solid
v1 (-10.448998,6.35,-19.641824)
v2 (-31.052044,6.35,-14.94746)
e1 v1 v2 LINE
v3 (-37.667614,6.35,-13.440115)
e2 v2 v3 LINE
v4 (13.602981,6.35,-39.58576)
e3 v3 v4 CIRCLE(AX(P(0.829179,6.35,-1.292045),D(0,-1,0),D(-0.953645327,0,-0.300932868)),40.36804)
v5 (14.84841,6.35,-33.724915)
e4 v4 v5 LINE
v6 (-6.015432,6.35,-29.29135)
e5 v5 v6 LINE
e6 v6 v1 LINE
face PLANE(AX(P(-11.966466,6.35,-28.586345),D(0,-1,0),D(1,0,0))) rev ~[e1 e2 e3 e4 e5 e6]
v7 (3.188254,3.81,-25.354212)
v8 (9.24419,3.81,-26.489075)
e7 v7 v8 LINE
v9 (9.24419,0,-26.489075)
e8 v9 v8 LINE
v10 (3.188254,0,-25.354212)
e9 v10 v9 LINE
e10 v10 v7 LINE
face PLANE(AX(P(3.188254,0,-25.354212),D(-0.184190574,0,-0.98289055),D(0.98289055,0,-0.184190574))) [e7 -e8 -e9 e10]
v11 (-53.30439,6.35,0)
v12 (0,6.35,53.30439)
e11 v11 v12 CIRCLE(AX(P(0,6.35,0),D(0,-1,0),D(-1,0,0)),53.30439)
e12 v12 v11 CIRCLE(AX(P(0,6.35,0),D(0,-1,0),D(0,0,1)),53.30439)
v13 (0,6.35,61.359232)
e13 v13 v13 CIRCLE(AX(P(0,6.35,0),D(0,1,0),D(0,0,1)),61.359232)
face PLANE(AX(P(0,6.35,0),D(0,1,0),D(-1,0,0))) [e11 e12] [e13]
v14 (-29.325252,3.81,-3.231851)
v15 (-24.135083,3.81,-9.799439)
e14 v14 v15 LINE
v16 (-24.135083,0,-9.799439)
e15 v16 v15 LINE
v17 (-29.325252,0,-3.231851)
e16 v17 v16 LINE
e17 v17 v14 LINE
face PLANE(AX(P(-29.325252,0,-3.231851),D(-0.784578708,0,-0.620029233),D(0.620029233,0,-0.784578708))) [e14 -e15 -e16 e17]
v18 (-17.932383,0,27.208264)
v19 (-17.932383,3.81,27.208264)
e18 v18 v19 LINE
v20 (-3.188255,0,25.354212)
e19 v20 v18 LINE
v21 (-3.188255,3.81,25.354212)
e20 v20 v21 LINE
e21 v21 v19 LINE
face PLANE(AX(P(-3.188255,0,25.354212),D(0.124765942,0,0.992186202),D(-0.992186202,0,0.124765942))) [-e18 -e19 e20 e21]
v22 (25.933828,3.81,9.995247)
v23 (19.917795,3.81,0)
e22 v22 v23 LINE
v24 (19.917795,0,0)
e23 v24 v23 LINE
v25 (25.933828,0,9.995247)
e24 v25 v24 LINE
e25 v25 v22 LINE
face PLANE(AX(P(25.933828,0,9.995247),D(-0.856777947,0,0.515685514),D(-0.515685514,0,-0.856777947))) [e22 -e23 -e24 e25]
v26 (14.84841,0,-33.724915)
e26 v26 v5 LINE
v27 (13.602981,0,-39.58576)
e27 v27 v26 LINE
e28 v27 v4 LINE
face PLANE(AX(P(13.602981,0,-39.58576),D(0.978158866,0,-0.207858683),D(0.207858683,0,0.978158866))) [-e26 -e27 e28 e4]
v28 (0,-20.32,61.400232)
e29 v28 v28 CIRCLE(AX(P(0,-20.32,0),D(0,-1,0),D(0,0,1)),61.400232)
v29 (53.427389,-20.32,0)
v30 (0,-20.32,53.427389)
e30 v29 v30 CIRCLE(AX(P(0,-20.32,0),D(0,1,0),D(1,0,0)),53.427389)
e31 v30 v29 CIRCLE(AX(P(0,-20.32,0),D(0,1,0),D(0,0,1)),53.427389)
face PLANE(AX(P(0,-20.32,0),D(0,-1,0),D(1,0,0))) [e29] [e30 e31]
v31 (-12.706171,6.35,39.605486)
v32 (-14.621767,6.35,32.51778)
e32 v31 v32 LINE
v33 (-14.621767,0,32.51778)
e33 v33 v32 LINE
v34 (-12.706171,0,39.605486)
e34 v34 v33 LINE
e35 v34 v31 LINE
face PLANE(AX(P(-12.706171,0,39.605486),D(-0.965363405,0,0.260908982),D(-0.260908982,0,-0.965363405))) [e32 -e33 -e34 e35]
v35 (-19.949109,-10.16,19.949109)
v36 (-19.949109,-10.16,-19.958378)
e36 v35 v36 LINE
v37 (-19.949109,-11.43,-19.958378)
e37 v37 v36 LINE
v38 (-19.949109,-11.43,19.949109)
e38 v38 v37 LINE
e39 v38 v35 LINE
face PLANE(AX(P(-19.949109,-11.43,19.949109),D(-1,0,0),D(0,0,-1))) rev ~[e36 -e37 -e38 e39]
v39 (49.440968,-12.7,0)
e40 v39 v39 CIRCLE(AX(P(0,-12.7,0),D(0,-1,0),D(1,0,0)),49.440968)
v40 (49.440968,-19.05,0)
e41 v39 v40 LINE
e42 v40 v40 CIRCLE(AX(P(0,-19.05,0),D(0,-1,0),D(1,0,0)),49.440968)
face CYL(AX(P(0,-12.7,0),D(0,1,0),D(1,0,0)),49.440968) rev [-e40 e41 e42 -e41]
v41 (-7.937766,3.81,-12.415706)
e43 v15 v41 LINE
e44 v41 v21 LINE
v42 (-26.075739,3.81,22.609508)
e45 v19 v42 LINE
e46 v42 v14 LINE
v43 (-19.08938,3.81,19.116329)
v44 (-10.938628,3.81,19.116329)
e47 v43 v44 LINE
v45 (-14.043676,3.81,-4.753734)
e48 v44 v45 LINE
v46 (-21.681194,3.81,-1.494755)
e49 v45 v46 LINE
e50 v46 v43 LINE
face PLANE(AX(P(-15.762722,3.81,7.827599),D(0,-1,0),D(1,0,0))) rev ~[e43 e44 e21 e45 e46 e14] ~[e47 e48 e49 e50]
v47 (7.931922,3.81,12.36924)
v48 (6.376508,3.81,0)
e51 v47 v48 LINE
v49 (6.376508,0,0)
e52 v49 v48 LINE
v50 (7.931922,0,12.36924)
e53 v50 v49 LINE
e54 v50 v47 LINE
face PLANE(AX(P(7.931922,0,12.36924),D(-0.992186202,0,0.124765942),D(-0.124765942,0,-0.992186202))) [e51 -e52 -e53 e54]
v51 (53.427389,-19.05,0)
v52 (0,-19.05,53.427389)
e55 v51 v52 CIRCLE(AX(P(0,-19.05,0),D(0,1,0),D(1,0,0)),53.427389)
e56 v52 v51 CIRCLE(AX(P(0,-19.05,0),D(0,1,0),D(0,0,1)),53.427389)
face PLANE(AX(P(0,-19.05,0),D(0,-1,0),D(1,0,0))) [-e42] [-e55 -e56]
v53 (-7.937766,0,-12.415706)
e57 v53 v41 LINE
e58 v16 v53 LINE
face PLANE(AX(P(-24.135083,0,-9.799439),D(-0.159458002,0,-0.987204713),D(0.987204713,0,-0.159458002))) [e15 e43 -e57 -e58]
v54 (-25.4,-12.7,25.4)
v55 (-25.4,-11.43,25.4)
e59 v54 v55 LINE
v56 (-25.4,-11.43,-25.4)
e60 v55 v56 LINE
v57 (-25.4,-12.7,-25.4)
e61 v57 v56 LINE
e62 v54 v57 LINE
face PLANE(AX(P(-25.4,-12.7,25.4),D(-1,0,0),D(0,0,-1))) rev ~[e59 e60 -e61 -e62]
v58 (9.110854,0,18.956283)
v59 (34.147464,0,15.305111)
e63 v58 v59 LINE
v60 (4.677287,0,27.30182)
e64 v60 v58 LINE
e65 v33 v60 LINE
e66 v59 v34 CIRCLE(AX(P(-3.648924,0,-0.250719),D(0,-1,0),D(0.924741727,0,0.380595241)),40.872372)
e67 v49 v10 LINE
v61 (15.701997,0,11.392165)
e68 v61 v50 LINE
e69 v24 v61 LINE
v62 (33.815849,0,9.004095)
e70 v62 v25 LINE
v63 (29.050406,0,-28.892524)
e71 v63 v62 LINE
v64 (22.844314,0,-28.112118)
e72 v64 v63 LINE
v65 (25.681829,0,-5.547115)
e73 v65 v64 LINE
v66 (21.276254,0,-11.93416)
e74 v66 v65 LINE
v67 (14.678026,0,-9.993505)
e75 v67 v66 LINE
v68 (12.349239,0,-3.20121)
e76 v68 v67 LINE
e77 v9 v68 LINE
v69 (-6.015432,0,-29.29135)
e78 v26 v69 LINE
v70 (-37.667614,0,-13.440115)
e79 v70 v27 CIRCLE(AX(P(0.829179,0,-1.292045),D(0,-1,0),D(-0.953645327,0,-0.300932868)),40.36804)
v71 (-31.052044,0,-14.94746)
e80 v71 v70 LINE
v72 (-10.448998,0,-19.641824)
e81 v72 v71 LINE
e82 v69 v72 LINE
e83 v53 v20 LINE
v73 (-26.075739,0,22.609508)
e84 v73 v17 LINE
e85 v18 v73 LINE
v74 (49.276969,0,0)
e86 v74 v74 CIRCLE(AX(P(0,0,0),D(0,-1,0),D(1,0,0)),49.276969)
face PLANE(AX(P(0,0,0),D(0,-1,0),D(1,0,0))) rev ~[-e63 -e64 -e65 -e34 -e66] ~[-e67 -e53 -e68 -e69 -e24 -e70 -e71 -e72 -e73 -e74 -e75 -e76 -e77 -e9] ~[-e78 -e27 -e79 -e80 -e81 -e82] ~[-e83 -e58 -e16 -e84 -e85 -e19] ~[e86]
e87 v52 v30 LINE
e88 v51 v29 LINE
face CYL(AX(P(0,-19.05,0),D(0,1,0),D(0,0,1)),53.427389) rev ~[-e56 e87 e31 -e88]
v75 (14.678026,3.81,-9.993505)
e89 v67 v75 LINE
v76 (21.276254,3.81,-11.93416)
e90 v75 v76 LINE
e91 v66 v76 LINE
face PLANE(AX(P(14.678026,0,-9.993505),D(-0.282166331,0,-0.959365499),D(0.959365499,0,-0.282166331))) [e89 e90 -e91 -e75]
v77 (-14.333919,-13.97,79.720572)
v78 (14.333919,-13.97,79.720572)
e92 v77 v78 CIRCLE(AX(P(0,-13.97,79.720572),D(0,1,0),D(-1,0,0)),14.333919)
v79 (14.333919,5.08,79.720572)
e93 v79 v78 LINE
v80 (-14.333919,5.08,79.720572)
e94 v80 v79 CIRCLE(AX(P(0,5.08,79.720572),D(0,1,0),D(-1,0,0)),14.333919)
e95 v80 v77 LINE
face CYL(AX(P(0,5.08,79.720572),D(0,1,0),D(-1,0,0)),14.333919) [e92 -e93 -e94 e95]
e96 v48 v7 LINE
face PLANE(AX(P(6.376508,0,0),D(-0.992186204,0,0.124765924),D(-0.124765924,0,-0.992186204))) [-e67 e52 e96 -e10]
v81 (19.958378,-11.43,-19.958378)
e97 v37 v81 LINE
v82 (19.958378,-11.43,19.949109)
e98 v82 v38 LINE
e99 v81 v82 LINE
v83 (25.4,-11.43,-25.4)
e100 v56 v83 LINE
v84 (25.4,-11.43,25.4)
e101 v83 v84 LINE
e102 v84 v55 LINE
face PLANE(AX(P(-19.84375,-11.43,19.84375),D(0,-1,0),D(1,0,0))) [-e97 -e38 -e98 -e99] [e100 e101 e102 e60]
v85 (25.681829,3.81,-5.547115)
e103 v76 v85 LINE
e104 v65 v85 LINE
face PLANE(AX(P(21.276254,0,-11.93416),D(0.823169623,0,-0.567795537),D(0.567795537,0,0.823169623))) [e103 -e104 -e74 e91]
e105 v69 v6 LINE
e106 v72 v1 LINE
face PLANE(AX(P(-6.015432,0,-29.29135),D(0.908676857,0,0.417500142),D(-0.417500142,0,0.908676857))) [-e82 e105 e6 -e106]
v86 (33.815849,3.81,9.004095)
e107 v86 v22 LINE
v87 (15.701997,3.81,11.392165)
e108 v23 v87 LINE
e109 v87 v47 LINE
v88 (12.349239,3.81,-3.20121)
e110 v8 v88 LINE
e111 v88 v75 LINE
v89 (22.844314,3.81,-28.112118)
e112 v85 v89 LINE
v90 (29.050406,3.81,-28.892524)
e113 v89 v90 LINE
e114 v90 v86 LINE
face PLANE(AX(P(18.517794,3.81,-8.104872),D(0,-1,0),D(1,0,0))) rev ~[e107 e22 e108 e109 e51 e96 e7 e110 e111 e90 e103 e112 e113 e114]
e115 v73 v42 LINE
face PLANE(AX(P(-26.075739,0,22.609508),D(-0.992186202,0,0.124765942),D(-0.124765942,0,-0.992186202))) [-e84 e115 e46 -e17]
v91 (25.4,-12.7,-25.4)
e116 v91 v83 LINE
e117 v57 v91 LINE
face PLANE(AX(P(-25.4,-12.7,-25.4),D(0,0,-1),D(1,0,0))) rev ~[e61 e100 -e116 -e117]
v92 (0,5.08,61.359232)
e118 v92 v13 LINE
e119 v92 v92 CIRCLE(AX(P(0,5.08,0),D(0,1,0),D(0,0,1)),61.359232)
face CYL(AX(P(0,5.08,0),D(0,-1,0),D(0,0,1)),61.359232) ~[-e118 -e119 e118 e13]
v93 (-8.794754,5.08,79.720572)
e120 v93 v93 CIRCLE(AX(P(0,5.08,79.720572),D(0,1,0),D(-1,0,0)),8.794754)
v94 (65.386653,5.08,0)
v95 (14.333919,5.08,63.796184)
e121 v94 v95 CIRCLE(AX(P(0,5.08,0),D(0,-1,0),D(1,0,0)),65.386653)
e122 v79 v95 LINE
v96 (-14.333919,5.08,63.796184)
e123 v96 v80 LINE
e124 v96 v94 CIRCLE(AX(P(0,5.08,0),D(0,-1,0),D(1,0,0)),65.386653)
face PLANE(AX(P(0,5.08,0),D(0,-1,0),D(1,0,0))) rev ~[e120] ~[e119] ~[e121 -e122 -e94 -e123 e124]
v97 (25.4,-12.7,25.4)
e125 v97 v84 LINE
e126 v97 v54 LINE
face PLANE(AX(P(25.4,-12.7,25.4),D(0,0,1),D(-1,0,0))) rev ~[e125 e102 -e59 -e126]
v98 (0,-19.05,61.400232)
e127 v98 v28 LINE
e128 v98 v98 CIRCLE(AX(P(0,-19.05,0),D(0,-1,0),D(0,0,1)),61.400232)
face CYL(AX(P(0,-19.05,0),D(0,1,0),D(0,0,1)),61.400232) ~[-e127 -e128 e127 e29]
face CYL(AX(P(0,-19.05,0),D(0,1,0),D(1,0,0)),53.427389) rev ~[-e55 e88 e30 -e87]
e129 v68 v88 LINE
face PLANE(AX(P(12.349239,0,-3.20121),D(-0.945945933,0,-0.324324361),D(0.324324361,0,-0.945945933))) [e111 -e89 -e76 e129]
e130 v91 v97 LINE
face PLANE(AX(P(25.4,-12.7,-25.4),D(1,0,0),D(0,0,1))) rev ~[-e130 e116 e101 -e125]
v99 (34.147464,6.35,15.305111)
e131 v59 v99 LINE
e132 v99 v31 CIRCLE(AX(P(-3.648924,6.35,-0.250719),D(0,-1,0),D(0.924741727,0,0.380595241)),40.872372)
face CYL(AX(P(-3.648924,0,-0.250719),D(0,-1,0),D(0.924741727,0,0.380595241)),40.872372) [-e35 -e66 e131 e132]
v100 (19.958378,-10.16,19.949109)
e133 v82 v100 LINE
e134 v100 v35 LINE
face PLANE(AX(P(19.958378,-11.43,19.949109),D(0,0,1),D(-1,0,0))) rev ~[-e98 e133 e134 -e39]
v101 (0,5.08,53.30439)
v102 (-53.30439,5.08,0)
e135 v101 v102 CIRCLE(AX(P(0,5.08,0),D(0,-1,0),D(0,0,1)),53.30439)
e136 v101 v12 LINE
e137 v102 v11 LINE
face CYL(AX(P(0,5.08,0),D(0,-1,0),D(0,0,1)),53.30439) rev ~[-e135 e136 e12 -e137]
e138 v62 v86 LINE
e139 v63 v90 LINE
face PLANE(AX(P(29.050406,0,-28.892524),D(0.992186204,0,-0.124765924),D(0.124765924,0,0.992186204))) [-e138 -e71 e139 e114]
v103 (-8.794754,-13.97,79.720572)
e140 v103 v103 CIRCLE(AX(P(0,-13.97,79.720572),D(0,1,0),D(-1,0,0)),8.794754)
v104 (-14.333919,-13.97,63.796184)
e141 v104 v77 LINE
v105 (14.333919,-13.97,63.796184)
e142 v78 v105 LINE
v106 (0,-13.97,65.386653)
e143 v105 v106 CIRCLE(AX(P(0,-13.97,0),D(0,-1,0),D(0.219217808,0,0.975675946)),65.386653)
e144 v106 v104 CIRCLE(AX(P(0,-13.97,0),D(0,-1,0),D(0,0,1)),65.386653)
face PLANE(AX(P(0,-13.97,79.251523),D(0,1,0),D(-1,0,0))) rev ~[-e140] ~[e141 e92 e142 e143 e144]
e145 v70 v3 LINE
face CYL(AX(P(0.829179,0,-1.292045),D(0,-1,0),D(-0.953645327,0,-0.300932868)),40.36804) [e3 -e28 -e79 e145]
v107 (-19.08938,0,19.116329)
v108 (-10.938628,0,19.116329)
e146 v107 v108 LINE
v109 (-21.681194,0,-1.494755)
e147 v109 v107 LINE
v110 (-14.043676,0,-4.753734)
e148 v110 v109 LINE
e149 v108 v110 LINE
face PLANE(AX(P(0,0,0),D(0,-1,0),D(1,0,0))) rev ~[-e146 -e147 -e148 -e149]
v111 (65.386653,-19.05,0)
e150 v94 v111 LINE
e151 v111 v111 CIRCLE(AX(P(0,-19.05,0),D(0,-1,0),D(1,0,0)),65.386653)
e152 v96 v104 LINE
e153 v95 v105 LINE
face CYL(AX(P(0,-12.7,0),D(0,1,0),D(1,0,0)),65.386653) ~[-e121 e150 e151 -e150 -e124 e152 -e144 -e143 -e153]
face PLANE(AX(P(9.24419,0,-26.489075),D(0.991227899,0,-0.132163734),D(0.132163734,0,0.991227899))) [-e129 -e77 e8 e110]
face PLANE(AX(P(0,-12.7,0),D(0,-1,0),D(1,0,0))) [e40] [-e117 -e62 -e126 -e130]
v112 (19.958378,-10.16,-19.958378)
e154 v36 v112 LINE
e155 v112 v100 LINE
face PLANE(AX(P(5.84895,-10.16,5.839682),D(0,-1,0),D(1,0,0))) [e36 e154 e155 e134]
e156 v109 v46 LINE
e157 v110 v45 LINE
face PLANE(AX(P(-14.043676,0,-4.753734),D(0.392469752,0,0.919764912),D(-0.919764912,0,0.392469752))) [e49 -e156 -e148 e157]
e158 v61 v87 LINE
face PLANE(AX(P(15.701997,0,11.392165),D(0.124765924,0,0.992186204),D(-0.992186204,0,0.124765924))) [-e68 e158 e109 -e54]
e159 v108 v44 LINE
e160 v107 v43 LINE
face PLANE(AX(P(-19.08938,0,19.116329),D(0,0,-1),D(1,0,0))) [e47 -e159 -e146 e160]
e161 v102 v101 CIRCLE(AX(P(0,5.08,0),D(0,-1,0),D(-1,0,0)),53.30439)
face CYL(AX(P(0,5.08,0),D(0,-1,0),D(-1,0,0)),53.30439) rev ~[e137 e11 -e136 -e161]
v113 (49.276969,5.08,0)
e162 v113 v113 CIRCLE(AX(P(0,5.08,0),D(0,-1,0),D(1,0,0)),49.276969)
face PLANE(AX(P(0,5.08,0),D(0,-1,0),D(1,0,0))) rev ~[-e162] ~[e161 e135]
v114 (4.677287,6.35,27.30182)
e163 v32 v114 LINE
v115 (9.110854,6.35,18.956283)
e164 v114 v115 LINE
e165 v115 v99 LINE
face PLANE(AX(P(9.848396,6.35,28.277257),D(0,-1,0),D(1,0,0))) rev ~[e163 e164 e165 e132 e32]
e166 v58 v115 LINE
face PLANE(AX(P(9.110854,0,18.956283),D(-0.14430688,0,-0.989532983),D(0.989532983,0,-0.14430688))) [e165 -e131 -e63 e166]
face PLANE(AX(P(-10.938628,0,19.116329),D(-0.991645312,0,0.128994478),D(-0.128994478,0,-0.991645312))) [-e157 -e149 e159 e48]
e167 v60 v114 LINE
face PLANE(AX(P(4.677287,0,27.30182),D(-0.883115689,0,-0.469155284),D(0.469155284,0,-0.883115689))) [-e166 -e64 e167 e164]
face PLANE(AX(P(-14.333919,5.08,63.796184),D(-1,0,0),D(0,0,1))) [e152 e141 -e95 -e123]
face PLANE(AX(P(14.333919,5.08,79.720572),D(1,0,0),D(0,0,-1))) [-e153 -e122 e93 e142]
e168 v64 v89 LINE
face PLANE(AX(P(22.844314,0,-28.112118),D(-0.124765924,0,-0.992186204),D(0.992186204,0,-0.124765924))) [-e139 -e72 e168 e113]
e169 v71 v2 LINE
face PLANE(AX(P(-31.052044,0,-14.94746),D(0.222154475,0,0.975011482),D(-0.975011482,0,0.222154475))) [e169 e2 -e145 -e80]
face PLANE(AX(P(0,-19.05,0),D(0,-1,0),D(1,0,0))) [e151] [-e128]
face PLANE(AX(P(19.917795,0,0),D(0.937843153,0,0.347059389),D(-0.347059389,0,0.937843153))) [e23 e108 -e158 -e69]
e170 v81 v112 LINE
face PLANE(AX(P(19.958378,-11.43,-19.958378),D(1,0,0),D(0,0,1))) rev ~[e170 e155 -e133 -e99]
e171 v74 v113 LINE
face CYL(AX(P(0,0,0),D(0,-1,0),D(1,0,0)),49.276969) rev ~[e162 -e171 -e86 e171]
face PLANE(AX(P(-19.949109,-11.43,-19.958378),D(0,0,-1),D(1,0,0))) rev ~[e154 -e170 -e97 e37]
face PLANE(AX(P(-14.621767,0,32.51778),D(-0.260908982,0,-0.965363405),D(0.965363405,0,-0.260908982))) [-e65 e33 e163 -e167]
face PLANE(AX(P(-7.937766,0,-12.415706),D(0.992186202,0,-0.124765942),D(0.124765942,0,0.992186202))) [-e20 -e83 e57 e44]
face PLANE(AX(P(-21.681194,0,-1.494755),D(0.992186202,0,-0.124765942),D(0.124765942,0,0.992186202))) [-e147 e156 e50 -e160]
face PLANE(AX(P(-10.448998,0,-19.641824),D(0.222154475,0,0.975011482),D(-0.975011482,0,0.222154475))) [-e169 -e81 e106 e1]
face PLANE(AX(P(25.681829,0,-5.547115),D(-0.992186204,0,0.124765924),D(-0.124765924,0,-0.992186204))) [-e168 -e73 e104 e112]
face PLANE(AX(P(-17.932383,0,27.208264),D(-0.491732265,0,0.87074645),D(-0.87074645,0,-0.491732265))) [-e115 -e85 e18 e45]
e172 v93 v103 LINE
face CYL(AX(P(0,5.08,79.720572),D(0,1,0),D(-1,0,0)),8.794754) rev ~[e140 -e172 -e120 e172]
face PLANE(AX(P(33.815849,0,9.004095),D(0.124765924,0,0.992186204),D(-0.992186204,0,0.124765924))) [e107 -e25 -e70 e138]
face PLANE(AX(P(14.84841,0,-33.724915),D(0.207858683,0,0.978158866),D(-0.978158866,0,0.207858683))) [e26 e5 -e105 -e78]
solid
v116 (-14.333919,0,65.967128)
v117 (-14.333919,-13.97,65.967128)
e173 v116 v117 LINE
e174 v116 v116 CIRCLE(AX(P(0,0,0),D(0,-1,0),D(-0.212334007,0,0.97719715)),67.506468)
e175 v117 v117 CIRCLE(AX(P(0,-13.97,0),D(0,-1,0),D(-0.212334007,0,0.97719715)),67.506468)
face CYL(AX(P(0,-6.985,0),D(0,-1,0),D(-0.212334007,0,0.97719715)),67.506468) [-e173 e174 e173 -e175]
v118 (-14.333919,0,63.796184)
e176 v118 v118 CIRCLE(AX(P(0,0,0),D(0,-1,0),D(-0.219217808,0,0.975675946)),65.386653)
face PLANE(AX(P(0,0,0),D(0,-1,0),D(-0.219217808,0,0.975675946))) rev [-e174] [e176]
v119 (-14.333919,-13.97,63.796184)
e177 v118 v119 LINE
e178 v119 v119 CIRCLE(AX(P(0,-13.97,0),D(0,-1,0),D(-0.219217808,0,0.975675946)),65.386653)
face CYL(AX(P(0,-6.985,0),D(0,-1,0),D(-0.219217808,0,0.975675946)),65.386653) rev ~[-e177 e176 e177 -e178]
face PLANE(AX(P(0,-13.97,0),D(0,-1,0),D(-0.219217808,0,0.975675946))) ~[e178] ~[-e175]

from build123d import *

# Parameters (mm, degrees)
F0_R      = 65.3866528966
F0_R_2    = 49.276969373
F1_DEPTH  = 12.7
F2_DEPTH  = 5.08
F3_R      = 65.3866528966
F3_R_2    = 49.4409677946
F4_DEPTH  = 6.35
F6_DEPTH  = 1.27
F8_DEPTH  = 1.27
F10_DEPTH = 3.81
F11_W     = 6.35
F11_H     = 6.35
F11_W_2   = 12.7
F11_H_2   = 12.7
F12_DEPTH = 1.27
F14_DEPTH = 1.27
F16_DEPTH = 6.35
F17_R     = 8.7947542669
F18_DEPTH = 19.05
F19_W     = 13.97
F19_H     = 2.1709432293


with BuildPart() as f1:
    # F0 (on Front) → F1 (new body)
    with BuildSketch(Plane.XZ):
        Circle(F0_R)
        Circle(F0_R_2, mode=Mode.SUBTRACT)
        Circle(F0_R_2)
    extrude(amount=F1_DEPTH)

    # F0 (on Front) → F2 (join)
    with BuildSketch(Plane.XZ):
        Circle(F0_R)
        Circle(F0_R_2, mode=Mode.SUBTRACT)
    extrude(amount=-F2_DEPTH)

    # F3 (on face) → F4 (join)
    with BuildSketch(Plane.XZ.offset(12.7)):
        Circle(F3_R)
        Circle(F3_R_2, mode=Mode.SUBTRACT)
    extrude(amount=F4_DEPTH)

    # F5 (on face) → F6 (join)
    with BuildSketch(Plane.XZ.offset(19.05)):
        with BuildLine():
            ThreePointArc((61.4002316211, 0), (43.4165201457, 43.4165201457), (0, 61.4002316211))
            ThreePointArc((0, 61.4002316211), (-43.4165201457, -43.4165201457), (61.4002316211, 0))
        make_face()
        with BuildLine():
            ThreePointArc((53.4273890701, 0), (-37.7788691126, -37.7788691126), (0, 53.4273890701))
            ThreePointArc((0, 53.4273890701), (37.7788691126, 37.7788691126), (53.4273890701, 0))
        make_face(mode=Mode.SUBTRACT)
    extrude(amount=F6_DEPTH)

    # F7 (on face) → F8 (join)
    with BuildSketch(Plane(origin=(0, 5.08, 0), x_dir=(-1, 0, 0), z_dir=(0, 1, 0))):
        with BuildLine():
            ThreePointArc((61.3592320157, 0), (43.3875290467, 43.3875290467), (0, 61.3592320157))
            ThreePointArc((0, 61.3592320157), (-43.3875290467, -43.3875290467), (61.3592320157, 0))
        make_face()
        with BuildLine():
            ThreePointArc((53.3043902539, 0), (-37.6918958156, -37.6918958156), (0, 53.3043902539))
            ThreePointArc((0, 53.3043902539), (37.6918958156, 37.6918958156), (53.3043902539, 0))
        make_face(mode=Mode.SUBTRACT)
    extrude(amount=F8_DEPTH)

    # F9 (on face) → F10 (join)
    with BuildSketch(Plane.XZ):
        Polygon((7.9319217403, 12.3692400979), (6.3765081577, 0), (3.1882540789, -25.35421215), (9.2441895977, -26.4890752733), (12.3492386192, -3.2012101728), (14.6780256182, -9.9935047328), (21.2762542069, -11.9341602549), (25.6818294937, -5.5471150812), (22.8443143439, -28.1121175272), (29.0504059829, -28.8925242251), (33.8158489017, 9.0040949788), (25.9338282049, 9.9952472374), (19.9177954346, 0), (15.7019969323, 11.3921648183), align=None)
        Polygon((-7.9377657239, -12.415706271), (-6.376509089, 0), (-3.1882545445, 25.35421215), (-17.9323829615, 27.2082644137), (-26.0757394135, 22.609507665), (-29.3252519459, -3.2318512921), (-24.1350829601, -9.7994385287), align=None)
        Polygon((-19.0893802792, 19.1163290292), (-10.9386276454, 19.1163290292), (-14.0436757356, -4.7537344508), (-21.6811935348, -1.4947552551), align=None, mode=Mode.SUBTRACT)
    extrude(amount=-F10_DEPTH)

    # F11 (on face) → F12 (cut)
    with BuildSketch(Plane.XZ.offset(12.7)):
        Polygon((-25.4, 12.7), (-19.05, 12.7), (-19.05, 19.05), (-12.7, 19.05), (-12.7, 25.4), (-25.4, 25.4), align=None)
        with Locations((-15.875, 15.875)):
            Rectangle(F11_W, F11_H)
        with Locations((6.35, 15.875)):
            Rectangle(F11_W_2, F11_H)
        with Locations((6.35, 22.225)):
            Rectangle(F11_W_2, F11_H)
        with Locations((-6.35, 22.225)):
            Rectangle(F11_W_2, F11_H)
        with Locations((-6.35, 15.875)):
            Rectangle(F11_W_2, F11_H)
        with Locations((-6.35, 6.35)):
            Rectangle(F11_W_2, F11_H_2)
        with Locations((-15.875, 6.35)):
            Rectangle(F11_W, F11_H_2)
        with Locations((-22.225, 6.35)):
            Rectangle(F11_W, F11_H_2)
        with Locations((-22.225, -6.35)):
            Rectangle(F11_W, F11_H_2)
        with Locations((-15.875, -6.35)):
            Rectangle(F11_W, F11_H_2)
        with Locations((-6.35, -6.35)):
            Rectangle(F11_W_2, F11_H_2)
        with Locations((6.35, -6.35)):
            Rectangle(F11_W_2, F11_H_2)
        with Locations((6.35, 6.35)):
            Rectangle(F11_W_2, F11_H_2)
        with Locations((15.875, 6.35)):
            Rectangle(F11_W, F11_H_2)
        with Locations((22.225, 6.35)):
            Rectangle(F11_W, F11_H_2)
        Polygon((12.7, 25.4), (12.7, 19.05), (19.05, 19.05), (19.05, 12.7), (25.4, 12.7), (25.4, 25.4), align=None)
        with Locations((15.875, 15.875)):
            Rectangle(F11_W, F11_H)
        with Locations((15.875, -6.35)):
            Rectangle(F11_W, F11_H_2)
        with Locations((22.225, -6.35)):
            Rectangle(F11_W, F11_H_2)
        with Locations((15.875, -15.875)):
            Rectangle(F11_W, F11_H)
        with Locations((6.35, -15.875)):
            Rectangle(F11_W_2, F11_H)
        with Locations((-6.35, -15.875)):
            Rectangle(F11_W_2, F11_H)
        with Locations((-15.875, -15.875)):
            Rectangle(F11_W, F11_H)
        Polygon((-19.05, -19.05), (-19.05, -12.7), (-25.4, -12.7), (-25.4, -25.4), (-12.7, -25.4), (-12.7, -19.05), align=None)
        with Locations((-6.35, -22.225)):
            Rectangle(F11_W_2, F11_H)
        with Locations((6.35, -22.225)):
            Rectangle(F11_W_2, F11_H)
        Polygon((25.4, -12.7), (19.05, -12.7), (19.05, -19.05), (12.7, -19.05), (12.7, -25.4), (25.4, -25.4), align=None)
    extrude(amount=-F12_DEPTH, mode=Mode.SUBTRACT)

    # F13 (on face) → F14 (cut)
    with BuildSketch(Plane.XZ.offset(11.43)):
        Polygon((19.9583778158, 19.9491092935), (-19.9491092935, 19.9491092935), (19.9583778158, -19.9583778158), align=None)
        Polygon((19.9583778158, -19.9583778158), (-19.9491092935, 19.9491092935), (-19.9491092935, -19.9583778158), align=None)
    extrude(amount=-F14_DEPTH, mode=Mode.SUBTRACT)

    # F15 (on face) → F16 (join)
    with BuildSketch(Plane.XZ):
        with BuildLine():
            Line((9.1108540073, 18.9562831074), (34.1474637389, 15.3051111847))
            ThreePointArc((34.1474637389, 15.3051111847), (15.1689291883, 36.0320480212), (-12.7061712908, 39.6054858053))
            Line((-12.7061712908, 39.6054858053), (-14.6217672154, 32.5177796185))
            Line((-14.6217672154, 32.5177796185), (4.6772868372, 27.301819995))
            Line((4.6772868372, 27.301819995), (9.1108540073, 18.9562831074))
        make_face()
        with BuildLine():
            Line((-10.4489978403, -19.6418240666), (-31.0520436615, -14.947460033))
            Line((-31.0520436615, -14.947460033), (-37.6676143577, -13.4401150798))
            ThreePointArc((-37.6676143577, -13.4401150798), (-17.5097623108, -37.2539959677), (13.6029810031, -39.585760444))
            Line((13.6029810031, -39.585760444), (14.8484101519, -33.7249152362))
            Line((14.8484101519, -33.7249152362), (-6.0154320672, -29.2913503945))
            Line((-6.0154320672, -29.2913503945), (-10.4489978403, -19.6418240666))
        make_face()
    extrude(amount=-F16_DEPTH)

    # F17 (on face) → F18 (join)
    with BuildSketch(Plane(origin=(0, 5.08, 0), x_dir=(-1, 0, 0), z_dir=(0, 1, 0))):
        with BuildLine():
            ThreePointArc((1.22e-08, 65.3866528966), (10.1356111467, 69.5849604991), (14.3339187405, 79.7205716372))
            ThreePointArc((14.3339187405, 79.7205716372), (0, 94.0544903777), (-14.3339187405, 79.7205716372))
            ThreePointArc((-14.3339187405, 79.7205716372), (-10.1356111381, 69.5849604904), (1.22e-08, 65.3866528966))
        make_face()
        with Locations((0, 79.7205716372)):
            Circle(F17_R, mode=Mode.SUBTRACT)
        with BuildLine():
            Line((14.3339187405, 63.7961844514), (14.3339187405, 79.7205716372))
            ThreePointArc((14.3339187405, 79.7205716372), (10.1356111467, 69.5849604991), (1.22e-08, 65.3866528966))
            ThreePointArc((1.22e-08, 65.3866528966), (7.2109433621, 64.9878194191), (14.3339187405, 63.7961844514))
        make_face()
        with BuildLine():
            ThreePointArc((1.22e-08, 65.3866528966), (-10.1356111381, 69.5849604904), (-14.3339187405, 79.7205716372))
            Line((-14.3339187405, 79.7205716372), (-14.3339187405, 63.7961844514))
            ThreePointArc((-14.3339187405, 63.7961844514), (-7.21094335, 64.9878194204), (1.22e-08, 65.3866528966))
        make_face()
    extrude(amount=-F18_DEPTH)


with BuildPart() as f20:
    # F19 (on face) → F20 (revolve)
    with BuildSketch(Plane(origin=(-14.3339187405, 0, 0), x_dir=(0, -1, 0), z_dir=(-1, 0, 0))):
        with Locations((6.985, 64.8816560661)):
            Rectangle(F19_W, F19_H)
    revolve(axis=Axis((0, 6.35, 0), (0, -1, 0)))


solid = Compound([f1.part, f20.part])
